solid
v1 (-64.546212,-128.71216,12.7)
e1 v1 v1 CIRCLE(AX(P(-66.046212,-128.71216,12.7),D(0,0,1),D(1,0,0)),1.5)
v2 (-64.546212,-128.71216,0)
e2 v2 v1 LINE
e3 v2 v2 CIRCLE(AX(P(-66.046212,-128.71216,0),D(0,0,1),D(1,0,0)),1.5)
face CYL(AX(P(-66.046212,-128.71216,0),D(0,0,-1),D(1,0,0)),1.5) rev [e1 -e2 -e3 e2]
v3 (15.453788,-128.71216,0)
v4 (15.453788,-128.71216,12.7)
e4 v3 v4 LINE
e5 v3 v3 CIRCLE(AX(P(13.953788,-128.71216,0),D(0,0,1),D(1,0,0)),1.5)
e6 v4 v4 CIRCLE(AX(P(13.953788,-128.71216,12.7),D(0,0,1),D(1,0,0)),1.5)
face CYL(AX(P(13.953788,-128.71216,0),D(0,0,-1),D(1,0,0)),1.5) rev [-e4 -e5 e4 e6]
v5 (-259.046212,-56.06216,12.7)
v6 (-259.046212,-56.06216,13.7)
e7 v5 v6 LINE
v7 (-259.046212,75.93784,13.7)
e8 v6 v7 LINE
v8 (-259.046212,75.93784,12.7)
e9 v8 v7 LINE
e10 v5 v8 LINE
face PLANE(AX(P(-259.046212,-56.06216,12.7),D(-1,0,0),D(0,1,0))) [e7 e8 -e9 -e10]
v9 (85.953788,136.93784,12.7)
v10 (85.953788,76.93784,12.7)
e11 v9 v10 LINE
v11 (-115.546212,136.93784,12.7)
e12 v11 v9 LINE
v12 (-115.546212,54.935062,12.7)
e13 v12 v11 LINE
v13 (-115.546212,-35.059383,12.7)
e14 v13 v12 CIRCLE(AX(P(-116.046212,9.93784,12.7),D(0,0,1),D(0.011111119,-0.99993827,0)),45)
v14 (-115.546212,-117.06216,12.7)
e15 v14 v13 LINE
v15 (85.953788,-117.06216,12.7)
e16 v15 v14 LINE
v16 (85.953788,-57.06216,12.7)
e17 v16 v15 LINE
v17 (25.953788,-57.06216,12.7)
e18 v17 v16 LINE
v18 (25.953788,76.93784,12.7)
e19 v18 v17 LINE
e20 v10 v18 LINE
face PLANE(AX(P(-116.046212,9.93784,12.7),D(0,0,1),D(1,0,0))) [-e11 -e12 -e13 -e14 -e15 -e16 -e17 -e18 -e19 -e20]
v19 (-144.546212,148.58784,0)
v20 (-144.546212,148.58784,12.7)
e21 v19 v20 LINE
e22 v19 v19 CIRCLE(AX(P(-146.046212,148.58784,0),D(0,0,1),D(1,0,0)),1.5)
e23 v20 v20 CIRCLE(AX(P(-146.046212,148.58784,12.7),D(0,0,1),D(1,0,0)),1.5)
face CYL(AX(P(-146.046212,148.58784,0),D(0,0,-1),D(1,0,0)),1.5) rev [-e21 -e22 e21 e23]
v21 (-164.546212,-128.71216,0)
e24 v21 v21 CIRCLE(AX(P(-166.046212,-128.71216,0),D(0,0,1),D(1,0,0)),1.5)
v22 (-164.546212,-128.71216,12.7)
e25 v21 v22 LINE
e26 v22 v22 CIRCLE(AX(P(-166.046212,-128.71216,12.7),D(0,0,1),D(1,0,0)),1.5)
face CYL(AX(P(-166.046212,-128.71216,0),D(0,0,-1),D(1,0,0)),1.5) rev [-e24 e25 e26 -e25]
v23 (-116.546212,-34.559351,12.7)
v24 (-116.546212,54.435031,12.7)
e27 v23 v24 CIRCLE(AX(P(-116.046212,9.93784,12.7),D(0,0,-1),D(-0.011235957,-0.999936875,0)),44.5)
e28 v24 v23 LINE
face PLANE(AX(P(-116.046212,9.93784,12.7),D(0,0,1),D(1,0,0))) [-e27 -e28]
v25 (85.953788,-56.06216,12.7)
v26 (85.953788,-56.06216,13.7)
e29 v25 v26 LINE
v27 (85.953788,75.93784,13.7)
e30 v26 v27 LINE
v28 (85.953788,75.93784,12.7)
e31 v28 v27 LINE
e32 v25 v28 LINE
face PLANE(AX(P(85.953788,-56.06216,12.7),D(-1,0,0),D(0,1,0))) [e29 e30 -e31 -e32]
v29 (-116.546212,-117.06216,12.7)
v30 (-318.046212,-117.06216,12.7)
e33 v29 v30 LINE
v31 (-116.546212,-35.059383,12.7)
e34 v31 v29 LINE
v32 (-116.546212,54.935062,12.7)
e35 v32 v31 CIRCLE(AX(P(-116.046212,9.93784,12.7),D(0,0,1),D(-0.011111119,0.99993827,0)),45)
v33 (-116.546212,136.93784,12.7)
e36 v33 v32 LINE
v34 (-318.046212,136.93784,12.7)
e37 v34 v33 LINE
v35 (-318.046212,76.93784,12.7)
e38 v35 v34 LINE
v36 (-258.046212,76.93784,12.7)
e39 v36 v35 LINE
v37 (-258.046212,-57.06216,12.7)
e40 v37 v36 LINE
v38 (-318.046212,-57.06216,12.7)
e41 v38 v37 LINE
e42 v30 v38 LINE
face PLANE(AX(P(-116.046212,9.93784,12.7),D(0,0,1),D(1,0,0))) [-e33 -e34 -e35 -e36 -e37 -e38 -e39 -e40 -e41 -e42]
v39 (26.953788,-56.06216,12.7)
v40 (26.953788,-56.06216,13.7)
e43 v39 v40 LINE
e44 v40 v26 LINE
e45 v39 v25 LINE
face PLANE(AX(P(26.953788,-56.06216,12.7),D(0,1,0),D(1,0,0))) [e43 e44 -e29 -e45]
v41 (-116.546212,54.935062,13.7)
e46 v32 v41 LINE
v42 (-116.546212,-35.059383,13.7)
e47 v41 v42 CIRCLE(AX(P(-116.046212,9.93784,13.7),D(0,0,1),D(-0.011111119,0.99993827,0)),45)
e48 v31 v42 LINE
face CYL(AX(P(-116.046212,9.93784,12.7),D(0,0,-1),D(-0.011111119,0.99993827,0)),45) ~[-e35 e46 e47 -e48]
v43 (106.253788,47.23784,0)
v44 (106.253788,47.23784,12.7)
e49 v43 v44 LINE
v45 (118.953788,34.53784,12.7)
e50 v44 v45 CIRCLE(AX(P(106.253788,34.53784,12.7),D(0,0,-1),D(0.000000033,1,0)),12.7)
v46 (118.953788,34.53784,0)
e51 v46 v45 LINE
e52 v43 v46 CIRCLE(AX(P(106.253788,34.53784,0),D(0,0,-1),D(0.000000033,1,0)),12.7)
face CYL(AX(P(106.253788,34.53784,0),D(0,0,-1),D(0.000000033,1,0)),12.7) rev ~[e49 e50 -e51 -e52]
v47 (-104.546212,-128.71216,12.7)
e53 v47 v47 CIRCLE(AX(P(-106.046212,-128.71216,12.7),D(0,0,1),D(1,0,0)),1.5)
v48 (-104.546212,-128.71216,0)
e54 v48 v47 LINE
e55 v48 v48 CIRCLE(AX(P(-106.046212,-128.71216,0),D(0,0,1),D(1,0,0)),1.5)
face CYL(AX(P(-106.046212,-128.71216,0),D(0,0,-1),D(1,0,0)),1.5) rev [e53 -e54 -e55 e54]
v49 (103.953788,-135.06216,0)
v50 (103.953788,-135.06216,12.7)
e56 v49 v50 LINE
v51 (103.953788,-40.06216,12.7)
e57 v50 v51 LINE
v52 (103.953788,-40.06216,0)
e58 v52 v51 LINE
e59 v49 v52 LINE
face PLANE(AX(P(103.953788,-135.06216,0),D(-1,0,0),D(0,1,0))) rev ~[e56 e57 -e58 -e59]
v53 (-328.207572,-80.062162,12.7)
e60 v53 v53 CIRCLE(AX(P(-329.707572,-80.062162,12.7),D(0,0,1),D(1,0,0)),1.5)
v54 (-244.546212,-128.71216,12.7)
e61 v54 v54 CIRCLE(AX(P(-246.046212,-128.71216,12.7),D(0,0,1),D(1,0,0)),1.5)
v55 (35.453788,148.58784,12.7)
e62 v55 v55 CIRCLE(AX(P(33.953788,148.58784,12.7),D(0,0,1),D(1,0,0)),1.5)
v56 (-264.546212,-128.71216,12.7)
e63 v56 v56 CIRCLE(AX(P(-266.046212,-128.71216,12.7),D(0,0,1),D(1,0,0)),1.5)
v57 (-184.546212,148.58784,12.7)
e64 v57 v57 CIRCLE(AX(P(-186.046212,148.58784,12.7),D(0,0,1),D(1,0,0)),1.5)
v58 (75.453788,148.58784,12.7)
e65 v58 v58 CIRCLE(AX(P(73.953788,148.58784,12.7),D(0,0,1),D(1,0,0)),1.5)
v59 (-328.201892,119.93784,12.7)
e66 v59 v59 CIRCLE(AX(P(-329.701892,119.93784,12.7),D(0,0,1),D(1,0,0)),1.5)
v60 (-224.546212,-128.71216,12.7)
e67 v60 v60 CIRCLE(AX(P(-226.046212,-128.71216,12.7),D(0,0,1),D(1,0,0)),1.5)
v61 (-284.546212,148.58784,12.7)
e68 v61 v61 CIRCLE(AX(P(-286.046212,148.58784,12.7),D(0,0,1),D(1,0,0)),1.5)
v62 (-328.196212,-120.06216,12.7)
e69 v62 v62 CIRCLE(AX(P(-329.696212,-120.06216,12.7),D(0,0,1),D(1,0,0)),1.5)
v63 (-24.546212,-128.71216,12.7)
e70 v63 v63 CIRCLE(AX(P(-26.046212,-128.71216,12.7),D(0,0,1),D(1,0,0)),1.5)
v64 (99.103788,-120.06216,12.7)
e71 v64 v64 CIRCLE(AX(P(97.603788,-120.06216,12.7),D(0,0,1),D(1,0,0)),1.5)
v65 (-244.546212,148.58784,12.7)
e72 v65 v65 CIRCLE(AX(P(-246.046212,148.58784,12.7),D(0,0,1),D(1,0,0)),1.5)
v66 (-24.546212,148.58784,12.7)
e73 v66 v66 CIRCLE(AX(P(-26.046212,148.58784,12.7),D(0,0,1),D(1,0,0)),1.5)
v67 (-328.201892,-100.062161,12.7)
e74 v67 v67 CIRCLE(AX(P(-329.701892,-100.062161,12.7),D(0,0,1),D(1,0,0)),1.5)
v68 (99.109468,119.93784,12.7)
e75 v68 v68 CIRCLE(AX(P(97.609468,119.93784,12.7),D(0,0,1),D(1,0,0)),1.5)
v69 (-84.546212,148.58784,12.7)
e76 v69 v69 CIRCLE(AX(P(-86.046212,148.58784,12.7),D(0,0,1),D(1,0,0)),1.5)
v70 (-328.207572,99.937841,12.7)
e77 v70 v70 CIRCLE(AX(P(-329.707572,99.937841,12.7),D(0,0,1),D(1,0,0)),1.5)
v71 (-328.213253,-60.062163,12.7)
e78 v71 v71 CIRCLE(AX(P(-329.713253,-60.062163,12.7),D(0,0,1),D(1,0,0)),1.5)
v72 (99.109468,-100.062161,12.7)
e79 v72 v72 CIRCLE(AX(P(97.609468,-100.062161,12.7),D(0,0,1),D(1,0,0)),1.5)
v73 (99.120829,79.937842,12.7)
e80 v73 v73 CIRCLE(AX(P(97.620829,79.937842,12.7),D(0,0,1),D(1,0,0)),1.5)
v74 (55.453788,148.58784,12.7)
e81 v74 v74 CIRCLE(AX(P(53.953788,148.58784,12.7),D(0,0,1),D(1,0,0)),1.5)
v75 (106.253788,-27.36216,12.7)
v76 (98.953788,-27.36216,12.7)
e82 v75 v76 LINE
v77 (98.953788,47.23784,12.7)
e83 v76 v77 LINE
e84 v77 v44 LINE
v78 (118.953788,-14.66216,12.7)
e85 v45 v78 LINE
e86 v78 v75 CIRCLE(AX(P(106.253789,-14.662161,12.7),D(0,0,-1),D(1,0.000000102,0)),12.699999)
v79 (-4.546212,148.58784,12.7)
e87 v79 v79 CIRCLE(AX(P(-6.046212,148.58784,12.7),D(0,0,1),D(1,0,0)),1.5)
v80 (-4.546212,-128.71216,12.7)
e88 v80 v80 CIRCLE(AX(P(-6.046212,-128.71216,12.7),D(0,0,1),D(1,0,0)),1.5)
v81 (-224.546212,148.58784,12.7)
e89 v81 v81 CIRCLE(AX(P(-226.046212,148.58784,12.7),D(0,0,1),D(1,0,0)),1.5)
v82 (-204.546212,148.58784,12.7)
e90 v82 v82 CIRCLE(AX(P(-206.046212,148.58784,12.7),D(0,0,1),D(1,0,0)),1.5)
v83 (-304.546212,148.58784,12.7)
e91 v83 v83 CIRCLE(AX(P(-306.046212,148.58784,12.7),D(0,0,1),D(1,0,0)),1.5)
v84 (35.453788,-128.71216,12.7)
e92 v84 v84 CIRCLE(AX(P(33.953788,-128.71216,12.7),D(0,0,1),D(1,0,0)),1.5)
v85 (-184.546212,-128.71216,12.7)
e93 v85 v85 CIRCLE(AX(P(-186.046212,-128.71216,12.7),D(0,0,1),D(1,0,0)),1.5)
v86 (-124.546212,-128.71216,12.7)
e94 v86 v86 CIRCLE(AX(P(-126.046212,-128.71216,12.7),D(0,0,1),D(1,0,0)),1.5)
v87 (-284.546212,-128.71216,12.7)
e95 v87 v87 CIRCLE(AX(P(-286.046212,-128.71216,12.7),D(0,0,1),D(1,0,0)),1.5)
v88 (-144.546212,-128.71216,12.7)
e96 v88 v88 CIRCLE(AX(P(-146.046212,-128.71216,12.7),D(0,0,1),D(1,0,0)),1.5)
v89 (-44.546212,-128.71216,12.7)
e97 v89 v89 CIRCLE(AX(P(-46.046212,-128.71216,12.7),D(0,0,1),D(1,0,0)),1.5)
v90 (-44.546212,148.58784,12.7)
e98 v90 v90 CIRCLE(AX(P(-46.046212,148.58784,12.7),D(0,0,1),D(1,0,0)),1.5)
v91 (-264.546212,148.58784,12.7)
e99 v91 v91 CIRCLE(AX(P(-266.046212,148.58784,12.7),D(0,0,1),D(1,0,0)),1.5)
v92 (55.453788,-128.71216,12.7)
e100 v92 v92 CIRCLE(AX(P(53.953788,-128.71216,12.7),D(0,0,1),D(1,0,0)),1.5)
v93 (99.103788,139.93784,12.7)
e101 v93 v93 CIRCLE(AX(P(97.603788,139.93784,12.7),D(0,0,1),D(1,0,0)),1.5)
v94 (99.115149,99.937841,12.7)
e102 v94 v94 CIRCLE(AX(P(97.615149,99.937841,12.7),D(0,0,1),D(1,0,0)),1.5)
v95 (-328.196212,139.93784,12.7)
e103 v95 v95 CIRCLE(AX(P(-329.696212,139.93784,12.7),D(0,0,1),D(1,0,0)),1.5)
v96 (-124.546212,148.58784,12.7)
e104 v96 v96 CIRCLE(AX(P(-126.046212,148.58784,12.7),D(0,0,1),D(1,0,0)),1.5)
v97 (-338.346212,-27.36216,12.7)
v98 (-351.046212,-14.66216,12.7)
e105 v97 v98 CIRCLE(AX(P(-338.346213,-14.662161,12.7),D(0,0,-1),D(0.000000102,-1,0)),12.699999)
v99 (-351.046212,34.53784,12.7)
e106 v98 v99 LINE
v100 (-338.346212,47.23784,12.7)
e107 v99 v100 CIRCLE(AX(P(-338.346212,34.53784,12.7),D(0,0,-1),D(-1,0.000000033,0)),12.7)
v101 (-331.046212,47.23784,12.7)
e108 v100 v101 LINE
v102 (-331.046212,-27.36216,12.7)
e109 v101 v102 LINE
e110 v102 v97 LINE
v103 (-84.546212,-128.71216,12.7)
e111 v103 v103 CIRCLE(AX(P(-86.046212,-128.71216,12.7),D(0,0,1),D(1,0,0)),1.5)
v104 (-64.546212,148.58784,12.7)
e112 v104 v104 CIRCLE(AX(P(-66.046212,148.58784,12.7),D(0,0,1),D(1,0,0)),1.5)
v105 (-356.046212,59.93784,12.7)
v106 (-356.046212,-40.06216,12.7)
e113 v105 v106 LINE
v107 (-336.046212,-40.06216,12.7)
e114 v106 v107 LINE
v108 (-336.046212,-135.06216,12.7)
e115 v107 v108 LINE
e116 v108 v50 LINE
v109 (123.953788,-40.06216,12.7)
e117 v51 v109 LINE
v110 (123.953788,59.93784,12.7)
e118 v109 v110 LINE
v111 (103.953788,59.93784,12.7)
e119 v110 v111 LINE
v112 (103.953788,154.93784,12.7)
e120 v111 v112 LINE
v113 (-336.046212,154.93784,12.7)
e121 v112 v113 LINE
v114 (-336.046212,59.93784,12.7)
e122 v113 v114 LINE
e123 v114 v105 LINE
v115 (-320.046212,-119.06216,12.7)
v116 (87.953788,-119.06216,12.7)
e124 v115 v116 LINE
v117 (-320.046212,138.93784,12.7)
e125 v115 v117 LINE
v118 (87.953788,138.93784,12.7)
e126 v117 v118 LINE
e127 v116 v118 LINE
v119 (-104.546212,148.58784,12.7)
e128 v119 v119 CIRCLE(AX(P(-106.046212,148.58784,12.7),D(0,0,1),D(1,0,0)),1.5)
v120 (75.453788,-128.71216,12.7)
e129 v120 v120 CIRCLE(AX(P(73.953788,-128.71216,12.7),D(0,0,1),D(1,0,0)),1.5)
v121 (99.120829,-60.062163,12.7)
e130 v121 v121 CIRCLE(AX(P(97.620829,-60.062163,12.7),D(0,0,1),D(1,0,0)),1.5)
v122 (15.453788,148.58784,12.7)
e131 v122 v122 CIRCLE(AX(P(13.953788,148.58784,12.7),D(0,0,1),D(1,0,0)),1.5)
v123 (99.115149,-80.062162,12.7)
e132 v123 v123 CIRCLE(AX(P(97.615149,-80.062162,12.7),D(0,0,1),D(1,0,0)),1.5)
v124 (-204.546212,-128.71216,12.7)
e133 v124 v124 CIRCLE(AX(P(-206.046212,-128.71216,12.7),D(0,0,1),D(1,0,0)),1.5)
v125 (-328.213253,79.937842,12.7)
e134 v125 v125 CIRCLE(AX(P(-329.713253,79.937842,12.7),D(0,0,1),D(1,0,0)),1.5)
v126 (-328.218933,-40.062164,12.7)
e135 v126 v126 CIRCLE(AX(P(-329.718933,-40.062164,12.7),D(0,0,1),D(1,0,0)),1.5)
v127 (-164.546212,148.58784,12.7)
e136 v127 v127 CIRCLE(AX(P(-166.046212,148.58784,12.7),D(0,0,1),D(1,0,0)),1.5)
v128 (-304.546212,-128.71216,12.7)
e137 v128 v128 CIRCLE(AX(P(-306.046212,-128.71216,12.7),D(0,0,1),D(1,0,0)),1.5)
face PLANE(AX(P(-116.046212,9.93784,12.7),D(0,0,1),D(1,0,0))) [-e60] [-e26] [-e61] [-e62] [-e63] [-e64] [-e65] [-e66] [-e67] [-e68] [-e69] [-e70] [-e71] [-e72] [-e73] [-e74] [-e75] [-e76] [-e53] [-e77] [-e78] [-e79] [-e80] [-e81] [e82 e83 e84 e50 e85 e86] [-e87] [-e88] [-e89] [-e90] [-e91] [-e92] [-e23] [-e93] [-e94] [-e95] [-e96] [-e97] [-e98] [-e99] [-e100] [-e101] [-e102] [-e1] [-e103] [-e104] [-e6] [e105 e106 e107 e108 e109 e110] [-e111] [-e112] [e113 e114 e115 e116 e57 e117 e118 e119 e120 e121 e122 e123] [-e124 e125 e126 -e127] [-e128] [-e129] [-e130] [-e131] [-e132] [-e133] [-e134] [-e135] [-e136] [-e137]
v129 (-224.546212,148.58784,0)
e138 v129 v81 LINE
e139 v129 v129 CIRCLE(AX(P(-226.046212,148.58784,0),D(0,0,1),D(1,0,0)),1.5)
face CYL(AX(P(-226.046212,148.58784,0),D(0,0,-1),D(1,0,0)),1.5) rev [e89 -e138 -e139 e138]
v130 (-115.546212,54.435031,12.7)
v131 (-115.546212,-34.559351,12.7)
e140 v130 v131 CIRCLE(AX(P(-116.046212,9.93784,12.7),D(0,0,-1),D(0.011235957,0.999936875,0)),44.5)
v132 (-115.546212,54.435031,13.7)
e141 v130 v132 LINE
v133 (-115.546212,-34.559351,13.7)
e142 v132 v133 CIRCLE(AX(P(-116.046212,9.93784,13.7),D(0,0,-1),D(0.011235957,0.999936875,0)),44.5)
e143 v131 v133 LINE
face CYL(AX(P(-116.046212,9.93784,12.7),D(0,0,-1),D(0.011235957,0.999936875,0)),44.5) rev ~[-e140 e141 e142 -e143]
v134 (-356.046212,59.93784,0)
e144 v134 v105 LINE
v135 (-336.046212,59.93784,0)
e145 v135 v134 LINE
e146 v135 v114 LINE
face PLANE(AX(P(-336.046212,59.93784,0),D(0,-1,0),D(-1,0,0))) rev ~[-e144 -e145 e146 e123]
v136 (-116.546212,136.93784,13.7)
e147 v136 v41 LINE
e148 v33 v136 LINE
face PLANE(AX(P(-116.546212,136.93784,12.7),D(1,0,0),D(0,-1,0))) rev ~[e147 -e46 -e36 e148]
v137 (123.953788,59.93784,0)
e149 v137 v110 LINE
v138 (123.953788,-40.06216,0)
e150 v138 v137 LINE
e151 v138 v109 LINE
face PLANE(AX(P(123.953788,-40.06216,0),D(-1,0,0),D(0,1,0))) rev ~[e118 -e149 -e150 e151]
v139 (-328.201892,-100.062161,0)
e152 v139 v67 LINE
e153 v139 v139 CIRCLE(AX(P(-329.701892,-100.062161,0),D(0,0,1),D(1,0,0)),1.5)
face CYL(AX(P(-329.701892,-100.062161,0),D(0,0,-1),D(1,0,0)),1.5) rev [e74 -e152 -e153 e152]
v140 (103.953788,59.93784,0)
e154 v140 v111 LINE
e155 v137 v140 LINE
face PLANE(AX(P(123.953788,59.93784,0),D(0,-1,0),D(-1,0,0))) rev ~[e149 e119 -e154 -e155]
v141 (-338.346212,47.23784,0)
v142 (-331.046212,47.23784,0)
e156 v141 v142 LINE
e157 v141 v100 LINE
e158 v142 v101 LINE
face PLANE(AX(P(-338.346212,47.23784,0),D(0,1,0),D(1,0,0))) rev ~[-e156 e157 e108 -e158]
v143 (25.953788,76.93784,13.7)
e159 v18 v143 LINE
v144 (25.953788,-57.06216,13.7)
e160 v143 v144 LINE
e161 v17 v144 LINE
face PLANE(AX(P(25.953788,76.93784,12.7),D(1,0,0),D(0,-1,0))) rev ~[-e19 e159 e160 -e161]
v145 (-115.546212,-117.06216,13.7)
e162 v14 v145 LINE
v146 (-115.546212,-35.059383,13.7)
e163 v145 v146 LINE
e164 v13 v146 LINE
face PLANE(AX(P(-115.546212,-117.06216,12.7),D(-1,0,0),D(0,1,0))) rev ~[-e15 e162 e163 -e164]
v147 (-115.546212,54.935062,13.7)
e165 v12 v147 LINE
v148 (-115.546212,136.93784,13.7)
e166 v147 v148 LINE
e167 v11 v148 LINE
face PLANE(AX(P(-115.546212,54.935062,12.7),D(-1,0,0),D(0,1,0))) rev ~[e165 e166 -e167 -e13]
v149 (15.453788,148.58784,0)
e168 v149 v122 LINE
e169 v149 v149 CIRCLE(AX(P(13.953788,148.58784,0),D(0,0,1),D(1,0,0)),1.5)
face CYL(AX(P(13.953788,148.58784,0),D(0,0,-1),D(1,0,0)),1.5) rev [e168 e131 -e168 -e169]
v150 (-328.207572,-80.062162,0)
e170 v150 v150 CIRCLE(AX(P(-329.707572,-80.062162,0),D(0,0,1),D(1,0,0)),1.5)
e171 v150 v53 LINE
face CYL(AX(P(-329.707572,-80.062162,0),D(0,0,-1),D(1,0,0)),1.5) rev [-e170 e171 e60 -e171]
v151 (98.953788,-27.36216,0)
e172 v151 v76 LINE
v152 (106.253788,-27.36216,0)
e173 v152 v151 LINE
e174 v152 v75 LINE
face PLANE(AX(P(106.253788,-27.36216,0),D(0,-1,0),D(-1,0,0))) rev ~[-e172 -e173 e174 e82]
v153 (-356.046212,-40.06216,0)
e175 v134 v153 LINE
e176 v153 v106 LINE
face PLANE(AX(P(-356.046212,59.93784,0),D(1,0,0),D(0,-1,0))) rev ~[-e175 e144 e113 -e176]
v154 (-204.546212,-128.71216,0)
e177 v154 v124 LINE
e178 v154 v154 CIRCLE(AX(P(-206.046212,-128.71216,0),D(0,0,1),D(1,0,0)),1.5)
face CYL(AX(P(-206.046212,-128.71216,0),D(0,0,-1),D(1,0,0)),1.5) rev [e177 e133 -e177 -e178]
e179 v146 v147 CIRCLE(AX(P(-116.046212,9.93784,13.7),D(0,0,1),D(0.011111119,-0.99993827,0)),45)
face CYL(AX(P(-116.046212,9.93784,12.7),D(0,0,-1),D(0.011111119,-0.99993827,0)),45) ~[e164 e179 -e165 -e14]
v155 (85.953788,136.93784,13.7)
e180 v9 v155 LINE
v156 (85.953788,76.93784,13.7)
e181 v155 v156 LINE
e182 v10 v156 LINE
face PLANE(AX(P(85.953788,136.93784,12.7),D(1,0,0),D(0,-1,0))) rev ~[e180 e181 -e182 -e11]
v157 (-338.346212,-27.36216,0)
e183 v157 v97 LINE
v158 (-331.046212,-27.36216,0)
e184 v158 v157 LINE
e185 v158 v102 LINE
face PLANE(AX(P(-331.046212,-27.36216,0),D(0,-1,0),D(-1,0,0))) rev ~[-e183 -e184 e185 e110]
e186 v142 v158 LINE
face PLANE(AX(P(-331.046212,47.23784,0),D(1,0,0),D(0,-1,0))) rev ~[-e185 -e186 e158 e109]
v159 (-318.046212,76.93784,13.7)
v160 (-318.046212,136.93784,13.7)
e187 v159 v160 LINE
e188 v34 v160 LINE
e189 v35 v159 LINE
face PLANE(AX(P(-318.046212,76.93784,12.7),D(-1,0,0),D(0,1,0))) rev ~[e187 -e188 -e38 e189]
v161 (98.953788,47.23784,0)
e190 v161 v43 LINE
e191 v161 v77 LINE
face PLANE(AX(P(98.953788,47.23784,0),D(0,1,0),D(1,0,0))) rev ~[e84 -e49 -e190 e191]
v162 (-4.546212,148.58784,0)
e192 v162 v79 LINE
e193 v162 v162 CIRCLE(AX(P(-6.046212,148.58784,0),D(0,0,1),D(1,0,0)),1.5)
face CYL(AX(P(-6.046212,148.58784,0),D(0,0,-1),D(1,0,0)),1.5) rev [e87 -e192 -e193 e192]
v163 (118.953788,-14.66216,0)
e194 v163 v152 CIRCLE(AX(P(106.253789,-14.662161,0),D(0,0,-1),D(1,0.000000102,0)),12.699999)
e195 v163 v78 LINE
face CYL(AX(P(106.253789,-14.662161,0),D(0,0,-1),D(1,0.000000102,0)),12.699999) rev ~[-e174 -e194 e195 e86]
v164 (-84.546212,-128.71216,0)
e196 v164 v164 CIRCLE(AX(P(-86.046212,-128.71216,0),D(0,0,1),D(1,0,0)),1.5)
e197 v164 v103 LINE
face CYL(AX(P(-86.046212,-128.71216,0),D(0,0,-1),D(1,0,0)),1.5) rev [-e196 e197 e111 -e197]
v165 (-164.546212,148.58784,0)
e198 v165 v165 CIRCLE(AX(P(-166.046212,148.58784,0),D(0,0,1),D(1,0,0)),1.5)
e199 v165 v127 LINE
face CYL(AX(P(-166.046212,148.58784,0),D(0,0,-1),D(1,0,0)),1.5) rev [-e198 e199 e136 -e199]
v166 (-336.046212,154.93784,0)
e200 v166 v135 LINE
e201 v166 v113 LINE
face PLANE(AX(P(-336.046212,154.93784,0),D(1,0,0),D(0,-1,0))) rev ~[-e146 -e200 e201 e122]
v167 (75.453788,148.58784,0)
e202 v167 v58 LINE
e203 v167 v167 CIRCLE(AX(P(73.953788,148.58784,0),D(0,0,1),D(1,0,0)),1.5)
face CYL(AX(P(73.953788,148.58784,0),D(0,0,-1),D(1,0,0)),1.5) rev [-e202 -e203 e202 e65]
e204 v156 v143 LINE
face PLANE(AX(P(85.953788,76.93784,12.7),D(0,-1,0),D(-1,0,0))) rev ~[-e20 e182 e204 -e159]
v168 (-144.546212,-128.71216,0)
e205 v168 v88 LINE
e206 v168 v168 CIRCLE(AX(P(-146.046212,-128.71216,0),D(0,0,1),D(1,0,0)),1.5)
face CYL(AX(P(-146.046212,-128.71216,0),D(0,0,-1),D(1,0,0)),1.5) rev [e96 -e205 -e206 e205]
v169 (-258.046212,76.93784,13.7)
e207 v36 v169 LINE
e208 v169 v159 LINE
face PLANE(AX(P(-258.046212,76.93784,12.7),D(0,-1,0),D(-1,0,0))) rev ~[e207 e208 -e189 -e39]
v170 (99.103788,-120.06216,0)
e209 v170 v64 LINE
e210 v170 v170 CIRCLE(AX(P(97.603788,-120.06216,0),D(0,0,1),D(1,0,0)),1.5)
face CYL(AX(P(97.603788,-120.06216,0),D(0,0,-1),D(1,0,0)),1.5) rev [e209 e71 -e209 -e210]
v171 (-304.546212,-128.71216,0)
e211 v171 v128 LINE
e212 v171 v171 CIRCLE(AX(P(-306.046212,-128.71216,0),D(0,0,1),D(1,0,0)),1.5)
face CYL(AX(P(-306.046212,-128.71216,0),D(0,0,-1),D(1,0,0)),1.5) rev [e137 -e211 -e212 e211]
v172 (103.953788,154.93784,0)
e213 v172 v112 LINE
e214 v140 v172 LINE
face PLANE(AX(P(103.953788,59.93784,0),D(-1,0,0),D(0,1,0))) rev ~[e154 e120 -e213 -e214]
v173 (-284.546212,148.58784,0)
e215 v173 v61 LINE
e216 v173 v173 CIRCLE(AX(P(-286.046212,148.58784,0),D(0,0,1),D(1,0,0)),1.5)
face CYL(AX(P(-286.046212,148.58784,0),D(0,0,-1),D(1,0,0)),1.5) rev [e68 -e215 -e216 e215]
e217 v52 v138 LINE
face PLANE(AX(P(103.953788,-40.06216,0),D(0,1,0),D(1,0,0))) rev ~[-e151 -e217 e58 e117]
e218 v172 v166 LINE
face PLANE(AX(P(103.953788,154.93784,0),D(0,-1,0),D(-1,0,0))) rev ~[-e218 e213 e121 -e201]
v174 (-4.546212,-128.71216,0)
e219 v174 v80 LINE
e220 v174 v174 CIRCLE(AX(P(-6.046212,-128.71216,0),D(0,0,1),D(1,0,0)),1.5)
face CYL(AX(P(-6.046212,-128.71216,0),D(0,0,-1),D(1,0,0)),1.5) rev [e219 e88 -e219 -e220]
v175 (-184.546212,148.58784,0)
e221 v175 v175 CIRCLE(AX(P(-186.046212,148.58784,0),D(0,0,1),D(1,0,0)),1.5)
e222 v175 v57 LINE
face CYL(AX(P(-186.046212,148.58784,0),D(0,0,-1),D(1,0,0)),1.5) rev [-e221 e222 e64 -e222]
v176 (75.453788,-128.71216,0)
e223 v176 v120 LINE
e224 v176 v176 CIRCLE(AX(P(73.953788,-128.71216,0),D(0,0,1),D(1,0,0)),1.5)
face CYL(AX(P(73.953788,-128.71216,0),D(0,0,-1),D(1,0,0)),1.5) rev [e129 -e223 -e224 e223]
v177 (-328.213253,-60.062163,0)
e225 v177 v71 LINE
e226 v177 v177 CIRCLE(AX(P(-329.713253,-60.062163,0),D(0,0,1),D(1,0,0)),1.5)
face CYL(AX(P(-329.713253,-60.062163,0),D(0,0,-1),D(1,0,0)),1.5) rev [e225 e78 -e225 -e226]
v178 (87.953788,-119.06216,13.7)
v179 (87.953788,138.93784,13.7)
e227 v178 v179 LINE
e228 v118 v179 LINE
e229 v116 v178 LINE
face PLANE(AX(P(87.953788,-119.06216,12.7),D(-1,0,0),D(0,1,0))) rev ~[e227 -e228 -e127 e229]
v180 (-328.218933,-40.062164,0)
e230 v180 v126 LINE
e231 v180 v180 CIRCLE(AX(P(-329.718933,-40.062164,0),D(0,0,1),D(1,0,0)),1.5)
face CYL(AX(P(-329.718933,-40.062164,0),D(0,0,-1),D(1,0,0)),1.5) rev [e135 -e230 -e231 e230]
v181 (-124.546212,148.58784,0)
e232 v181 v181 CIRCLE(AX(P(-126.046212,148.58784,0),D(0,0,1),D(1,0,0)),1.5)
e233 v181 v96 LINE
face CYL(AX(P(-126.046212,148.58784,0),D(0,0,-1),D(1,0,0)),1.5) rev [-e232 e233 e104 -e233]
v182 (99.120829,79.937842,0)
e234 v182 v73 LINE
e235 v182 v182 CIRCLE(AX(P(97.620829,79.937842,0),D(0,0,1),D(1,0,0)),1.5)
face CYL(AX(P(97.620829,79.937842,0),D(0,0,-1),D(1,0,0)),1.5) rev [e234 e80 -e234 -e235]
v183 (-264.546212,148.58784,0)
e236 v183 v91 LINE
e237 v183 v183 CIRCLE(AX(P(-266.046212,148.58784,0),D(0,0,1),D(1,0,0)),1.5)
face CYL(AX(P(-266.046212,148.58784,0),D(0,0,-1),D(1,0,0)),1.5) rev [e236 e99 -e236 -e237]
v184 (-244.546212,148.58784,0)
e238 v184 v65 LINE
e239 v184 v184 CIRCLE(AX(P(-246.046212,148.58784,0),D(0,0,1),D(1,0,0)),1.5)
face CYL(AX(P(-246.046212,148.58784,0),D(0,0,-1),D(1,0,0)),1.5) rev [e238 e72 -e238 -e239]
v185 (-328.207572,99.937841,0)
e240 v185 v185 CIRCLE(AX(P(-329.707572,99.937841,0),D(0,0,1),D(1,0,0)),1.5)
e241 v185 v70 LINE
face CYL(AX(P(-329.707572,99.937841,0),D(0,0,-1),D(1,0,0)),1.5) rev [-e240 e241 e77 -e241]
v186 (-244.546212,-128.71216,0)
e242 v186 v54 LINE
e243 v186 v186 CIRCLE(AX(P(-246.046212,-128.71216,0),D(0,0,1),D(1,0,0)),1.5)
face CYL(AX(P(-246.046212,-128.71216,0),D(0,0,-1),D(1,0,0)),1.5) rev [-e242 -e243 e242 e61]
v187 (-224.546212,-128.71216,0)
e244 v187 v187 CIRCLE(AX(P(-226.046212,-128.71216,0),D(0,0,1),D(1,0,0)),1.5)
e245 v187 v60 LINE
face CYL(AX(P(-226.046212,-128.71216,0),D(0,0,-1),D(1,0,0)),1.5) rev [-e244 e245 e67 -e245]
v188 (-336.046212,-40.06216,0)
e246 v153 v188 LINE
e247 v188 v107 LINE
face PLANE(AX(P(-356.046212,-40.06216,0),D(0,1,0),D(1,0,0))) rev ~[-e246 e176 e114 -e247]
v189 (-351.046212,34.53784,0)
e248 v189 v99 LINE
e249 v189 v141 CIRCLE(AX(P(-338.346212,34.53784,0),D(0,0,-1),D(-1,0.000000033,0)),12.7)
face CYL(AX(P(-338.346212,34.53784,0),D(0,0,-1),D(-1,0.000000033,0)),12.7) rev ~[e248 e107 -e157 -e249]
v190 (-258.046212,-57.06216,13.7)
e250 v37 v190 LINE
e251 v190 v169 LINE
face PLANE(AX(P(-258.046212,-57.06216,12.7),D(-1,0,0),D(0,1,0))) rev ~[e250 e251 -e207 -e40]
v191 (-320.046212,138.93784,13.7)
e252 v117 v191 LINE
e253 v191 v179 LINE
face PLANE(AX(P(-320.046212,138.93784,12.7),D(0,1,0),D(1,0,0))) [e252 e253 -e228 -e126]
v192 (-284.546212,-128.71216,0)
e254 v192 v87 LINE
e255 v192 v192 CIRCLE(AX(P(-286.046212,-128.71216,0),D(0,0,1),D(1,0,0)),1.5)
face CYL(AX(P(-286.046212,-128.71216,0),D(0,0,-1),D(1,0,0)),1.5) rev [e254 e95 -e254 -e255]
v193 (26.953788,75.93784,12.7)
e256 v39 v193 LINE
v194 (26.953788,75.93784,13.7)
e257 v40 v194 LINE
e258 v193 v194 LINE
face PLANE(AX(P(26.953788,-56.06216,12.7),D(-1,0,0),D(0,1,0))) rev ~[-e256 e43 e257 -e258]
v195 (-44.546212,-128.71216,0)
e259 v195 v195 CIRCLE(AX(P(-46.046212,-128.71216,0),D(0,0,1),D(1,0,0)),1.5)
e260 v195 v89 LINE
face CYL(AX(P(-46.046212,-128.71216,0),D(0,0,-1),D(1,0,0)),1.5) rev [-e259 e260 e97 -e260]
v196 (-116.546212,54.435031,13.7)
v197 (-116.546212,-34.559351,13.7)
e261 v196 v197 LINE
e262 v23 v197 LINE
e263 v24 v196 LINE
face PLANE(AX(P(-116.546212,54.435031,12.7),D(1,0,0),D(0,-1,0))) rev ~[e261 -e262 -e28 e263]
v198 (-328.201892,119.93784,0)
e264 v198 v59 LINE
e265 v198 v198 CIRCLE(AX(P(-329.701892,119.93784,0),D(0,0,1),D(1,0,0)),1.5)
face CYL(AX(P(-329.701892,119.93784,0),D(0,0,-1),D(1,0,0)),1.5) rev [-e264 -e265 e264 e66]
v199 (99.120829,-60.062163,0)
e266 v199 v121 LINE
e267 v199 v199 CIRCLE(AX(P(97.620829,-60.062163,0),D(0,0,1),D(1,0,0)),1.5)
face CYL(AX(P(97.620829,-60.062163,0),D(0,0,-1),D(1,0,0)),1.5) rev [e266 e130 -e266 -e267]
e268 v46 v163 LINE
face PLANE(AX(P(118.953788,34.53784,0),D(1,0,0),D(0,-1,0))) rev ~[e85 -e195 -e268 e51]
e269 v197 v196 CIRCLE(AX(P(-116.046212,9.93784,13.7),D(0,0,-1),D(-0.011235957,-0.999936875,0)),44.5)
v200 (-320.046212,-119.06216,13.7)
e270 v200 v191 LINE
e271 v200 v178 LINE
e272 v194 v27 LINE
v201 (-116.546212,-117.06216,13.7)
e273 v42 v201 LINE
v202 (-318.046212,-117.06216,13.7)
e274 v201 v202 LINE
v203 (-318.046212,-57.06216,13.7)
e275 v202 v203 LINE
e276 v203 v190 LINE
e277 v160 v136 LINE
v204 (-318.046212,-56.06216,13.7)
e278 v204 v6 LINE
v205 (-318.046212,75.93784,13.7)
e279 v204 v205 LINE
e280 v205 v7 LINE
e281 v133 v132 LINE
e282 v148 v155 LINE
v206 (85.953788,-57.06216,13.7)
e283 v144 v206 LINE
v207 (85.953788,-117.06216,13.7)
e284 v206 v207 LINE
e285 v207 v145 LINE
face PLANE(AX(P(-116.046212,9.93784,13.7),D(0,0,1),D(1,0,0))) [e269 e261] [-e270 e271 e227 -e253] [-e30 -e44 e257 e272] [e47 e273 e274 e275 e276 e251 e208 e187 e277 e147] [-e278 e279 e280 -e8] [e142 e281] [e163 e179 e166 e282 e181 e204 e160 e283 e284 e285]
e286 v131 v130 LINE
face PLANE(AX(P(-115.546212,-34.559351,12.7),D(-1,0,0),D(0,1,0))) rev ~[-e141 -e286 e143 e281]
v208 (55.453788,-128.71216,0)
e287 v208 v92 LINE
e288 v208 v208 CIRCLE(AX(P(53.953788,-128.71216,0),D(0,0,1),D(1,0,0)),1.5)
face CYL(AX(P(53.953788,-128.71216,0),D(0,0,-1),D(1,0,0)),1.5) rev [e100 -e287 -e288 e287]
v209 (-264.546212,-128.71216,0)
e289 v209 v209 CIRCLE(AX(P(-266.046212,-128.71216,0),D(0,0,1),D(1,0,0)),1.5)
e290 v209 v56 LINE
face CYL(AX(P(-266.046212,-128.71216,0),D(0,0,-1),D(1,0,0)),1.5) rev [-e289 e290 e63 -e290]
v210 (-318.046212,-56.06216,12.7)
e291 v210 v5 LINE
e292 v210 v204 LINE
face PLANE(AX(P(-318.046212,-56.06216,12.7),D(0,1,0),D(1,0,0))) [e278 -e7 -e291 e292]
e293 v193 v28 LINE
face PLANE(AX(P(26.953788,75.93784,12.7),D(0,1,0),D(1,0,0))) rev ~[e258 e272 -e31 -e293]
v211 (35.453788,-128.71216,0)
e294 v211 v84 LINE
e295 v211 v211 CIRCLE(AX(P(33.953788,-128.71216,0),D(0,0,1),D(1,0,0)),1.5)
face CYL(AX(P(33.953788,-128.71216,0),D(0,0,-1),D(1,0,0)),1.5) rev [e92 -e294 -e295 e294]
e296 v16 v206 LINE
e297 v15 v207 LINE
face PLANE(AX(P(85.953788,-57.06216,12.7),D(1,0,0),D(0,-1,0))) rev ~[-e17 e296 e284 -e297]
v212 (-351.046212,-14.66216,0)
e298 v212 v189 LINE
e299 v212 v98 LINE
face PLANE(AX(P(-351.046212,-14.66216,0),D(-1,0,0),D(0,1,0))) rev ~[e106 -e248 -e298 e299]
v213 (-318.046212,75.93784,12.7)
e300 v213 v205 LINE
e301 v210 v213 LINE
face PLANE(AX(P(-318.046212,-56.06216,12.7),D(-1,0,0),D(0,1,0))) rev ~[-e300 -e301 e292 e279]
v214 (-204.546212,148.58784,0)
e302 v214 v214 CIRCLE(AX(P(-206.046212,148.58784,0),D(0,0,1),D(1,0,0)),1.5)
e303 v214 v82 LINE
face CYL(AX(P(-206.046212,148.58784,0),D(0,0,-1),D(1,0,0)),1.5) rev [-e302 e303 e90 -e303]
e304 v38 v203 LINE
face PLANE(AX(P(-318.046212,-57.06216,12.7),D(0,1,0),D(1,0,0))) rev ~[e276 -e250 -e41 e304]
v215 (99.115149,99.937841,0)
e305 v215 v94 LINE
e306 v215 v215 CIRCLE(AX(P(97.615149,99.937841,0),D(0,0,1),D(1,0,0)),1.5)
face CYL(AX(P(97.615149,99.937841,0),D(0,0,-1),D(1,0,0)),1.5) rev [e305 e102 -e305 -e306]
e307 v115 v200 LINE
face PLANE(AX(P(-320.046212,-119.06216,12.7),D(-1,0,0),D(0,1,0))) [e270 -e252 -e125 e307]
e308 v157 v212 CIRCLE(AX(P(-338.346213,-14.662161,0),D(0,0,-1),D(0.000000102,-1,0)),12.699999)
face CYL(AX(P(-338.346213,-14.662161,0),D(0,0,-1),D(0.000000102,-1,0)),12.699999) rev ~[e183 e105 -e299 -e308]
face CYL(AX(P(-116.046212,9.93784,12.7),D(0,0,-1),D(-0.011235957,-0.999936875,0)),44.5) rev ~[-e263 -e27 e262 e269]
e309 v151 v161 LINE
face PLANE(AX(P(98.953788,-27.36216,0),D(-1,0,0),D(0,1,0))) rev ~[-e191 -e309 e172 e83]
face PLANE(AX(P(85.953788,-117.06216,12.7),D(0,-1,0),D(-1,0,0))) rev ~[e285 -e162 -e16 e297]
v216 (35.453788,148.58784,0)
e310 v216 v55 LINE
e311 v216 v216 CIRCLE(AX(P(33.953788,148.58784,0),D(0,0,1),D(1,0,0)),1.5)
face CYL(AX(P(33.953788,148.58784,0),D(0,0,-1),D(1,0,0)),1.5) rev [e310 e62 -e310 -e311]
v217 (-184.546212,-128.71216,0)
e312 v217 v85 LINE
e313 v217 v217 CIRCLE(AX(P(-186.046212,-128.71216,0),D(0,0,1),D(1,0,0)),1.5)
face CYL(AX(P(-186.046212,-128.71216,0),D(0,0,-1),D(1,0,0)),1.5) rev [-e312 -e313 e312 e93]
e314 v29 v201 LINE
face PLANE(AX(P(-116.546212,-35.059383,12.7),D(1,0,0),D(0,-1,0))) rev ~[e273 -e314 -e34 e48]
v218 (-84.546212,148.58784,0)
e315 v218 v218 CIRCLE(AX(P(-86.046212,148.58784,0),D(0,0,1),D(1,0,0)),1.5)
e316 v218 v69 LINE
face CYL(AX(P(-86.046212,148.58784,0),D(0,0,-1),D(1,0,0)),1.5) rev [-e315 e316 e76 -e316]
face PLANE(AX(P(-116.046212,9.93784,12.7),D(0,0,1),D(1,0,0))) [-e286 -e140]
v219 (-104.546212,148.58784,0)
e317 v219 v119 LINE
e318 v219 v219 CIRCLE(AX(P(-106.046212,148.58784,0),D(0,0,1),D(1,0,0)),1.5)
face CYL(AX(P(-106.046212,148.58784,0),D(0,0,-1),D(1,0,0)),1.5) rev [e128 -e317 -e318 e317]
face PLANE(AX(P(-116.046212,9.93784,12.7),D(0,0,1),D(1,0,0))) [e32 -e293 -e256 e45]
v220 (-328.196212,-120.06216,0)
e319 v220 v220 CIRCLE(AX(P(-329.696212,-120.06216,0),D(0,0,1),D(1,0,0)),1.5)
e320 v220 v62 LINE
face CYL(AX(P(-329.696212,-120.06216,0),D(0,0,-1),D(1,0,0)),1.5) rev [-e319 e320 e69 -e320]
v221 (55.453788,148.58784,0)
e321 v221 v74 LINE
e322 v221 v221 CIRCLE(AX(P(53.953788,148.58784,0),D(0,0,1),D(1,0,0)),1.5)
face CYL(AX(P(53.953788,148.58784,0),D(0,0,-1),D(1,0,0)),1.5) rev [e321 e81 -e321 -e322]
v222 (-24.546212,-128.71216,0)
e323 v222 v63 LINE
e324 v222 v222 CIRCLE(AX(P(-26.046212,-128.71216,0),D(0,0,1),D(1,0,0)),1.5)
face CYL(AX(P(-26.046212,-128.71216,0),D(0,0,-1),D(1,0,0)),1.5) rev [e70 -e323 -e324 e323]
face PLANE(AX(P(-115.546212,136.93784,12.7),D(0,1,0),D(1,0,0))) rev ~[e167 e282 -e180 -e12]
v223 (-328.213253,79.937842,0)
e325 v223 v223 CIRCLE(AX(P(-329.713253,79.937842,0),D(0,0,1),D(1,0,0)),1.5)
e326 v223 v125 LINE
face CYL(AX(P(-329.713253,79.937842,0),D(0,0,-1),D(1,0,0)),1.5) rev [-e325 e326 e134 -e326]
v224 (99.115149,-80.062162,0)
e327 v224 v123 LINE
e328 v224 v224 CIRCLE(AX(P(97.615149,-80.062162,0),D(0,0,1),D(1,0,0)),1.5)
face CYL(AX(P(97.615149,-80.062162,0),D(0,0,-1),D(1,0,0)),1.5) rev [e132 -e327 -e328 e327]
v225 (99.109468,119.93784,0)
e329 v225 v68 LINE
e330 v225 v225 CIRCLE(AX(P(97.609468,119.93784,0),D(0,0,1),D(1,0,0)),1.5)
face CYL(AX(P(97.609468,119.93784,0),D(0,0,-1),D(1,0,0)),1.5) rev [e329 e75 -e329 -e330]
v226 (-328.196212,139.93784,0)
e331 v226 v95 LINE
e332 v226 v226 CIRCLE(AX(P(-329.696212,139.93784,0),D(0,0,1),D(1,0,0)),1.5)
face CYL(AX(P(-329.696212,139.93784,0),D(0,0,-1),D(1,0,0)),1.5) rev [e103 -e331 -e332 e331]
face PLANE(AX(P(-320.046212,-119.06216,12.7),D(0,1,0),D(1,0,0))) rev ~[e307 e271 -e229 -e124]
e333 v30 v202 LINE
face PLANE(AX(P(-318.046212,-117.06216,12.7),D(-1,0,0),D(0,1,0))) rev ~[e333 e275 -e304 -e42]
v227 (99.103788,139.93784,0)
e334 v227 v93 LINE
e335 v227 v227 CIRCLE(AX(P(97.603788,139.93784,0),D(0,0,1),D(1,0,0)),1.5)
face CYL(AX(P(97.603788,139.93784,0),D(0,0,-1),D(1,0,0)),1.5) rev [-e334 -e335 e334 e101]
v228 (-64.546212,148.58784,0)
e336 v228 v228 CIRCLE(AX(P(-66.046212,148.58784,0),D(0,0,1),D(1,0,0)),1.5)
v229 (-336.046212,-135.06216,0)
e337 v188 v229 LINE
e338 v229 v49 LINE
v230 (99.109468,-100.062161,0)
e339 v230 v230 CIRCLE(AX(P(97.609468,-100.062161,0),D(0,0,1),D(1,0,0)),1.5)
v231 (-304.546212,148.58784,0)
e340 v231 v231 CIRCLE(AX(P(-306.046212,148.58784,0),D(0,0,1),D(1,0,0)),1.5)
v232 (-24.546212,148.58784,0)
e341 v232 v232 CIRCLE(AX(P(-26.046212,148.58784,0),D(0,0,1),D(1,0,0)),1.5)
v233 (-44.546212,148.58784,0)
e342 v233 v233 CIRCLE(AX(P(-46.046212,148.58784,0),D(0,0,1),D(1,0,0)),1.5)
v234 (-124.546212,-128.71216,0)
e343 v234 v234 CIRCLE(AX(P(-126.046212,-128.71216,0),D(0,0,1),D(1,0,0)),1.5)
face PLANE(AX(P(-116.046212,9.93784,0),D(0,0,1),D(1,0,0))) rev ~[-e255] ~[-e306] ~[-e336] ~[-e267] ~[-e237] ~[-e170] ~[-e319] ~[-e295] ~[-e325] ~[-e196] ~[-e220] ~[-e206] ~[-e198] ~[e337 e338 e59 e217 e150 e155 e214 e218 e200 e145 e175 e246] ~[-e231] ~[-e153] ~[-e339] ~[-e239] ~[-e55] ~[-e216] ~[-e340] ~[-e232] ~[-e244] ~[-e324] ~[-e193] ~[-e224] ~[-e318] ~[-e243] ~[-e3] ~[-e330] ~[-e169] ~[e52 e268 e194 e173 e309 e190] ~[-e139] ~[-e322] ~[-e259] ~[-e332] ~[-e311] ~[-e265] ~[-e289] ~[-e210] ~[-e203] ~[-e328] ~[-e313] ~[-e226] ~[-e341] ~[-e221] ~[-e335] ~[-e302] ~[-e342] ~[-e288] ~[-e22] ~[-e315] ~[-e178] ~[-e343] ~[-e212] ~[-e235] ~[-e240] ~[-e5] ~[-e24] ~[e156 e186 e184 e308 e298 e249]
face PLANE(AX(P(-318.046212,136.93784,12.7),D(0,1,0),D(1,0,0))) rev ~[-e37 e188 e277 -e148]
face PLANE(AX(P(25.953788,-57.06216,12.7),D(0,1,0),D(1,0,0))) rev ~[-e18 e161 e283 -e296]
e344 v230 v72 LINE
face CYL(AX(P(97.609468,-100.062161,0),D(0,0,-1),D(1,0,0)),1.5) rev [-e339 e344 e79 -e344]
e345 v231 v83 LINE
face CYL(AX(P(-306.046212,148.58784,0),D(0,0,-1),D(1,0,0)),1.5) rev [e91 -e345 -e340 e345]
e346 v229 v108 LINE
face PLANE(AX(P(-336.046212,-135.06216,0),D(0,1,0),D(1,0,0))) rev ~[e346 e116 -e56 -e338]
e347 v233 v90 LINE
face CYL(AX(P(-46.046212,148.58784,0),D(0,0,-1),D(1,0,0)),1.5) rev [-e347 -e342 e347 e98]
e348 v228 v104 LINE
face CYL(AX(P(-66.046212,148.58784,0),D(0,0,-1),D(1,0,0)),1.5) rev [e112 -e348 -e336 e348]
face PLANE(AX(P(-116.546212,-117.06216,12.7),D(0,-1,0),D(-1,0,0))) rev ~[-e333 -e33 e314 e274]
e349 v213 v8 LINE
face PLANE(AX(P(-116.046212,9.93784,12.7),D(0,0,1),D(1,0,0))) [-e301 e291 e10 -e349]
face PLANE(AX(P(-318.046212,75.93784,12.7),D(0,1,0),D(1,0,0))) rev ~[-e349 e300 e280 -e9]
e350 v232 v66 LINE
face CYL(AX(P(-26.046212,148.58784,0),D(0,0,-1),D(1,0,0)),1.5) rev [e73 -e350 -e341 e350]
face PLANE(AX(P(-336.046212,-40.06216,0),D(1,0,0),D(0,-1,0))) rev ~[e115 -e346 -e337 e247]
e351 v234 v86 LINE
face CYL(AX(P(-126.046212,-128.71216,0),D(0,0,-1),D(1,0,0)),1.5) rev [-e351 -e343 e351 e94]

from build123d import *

# Parameters (mm, degrees)
F0_R     = 1.5
F1_DEPTH = 12.7
F2_W     = 408
F2_H     = 258
F2_W_2   = 59
F2_H_2   = 132
F3_DEPTH = 1


with BuildPart() as f1:
    # F0 (on Top) → F1 (new body)
    with BuildSketch(Plane.XY):
        Polygon((103.953788, 154.93784), (-336.046212, 154.93784), (-336.046212, 59.93784), (-356.046212, 59.93784), (-356.046212, -40.06216), (-336.046212, -40.06216), (-336.046212, -135.06216), (103.953788, -135.06216), (103.953788, -40.06216), (123.953788, -40.06216), (123.953788, 59.93784), (103.953788, 59.93784), align=None)
        with Locations((-329.696212, -120.06216)):
            Circle(F0_R, mode=Mode.SUBTRACT)
        with Locations((-306.046212, -128.71216)):
            Circle(F0_R, mode=Mode.SUBTRACT)
        with Locations((-329.701892, -100.062161)):
            Circle(F0_R, mode=Mode.SUBTRACT)
        with Locations((-286.046212, -128.71216)):
            Circle(F0_R, mode=Mode.SUBTRACT)
        with Locations((-266.046212, -128.71216)):
            Circle(F0_R, mode=Mode.SUBTRACT)
        with Locations((-246.046212, -128.71216)):
            Circle(F0_R, mode=Mode.SUBTRACT)
        with Locations((-329.707572, -80.062162)):
            Circle(F0_R, mode=Mode.SUBTRACT)
        with Locations((-226.046212, -128.71216)):
            Circle(F0_R, mode=Mode.SUBTRACT)
        with Locations((-206.046212, -128.71216)):
            Circle(F0_R, mode=Mode.SUBTRACT)
        with Locations((-186.046212, -128.71216)):
            Circle(F0_R, mode=Mode.SUBTRACT)
        with Locations((-166.046212, -128.71216)):
            Circle(F0_R, mode=Mode.SUBTRACT)
        with Locations((-146.046212, -128.71216)):
            Circle(F0_R, mode=Mode.SUBTRACT)
        with Locations((-126.046212, -128.71216)):
            Circle(F0_R, mode=Mode.SUBTRACT)
        with Locations((-329.713253, -60.062163)):
            Circle(F0_R, mode=Mode.SUBTRACT)
        with Locations((-329.718933, -40.062164)):
            Circle(F0_R, mode=Mode.SUBTRACT)
        with Locations((-106.046212, -128.71216)):
            Circle(F0_R, mode=Mode.SUBTRACT)
        with Locations((-86.046212, -128.71216)):
            Circle(F0_R, mode=Mode.SUBTRACT)
        with Locations((-66.046212, -128.71216)):
            Circle(F0_R, mode=Mode.SUBTRACT)
        with Locations((-46.046212, -128.71216)):
            Circle(F0_R, mode=Mode.SUBTRACT)
        with Locations((-26.046212, -128.71216)):
            Circle(F0_R, mode=Mode.SUBTRACT)
        with Locations((-6.046212, -128.71216)):
            Circle(F0_R, mode=Mode.SUBTRACT)
        with Locations((13.953788, -128.71216)):
            Circle(F0_R, mode=Mode.SUBTRACT)
        with Locations((33.953788, -128.71216)):
            Circle(F0_R, mode=Mode.SUBTRACT)
        with Locations((53.953788, -128.71216)):
            Circle(F0_R, mode=Mode.SUBTRACT)
        with Locations((73.953788, -128.71216)):
            Circle(F0_R, mode=Mode.SUBTRACT)
        with Locations((97.603788, -120.06216)):
            Circle(F0_R, mode=Mode.SUBTRACT)
        with Locations((97.609468, -100.062161)):
            Circle(F0_R, mode=Mode.SUBTRACT)
        with Locations((97.615149, -80.062162)):
            Circle(F0_R, mode=Mode.SUBTRACT)
        with Locations((97.620829, -60.062163)):
            Circle(F0_R, mode=Mode.SUBTRACT)
        with BuildLine():
            Line((-331.046212, 47.23784), (-331.046212, -27.36216))
            Line((-331.046212, -27.36216), (-338.346212, -27.36216))
            ThreePointArc((-338.346212, -27.36216), (-347.326468, -23.642417), (-351.046212, -14.66216))
            Line((-351.046212, -14.66216), (-351.046212, 34.53784))
            ThreePointArc((-351.046212, 34.53784), (-347.326468, 43.518096), (-338.346212, 47.23784))
            Line((-338.346212, 47.23784), (-331.046212, 47.23784))
        make_face(mode=Mode.SUBTRACT)
        with Locations((-329.713253, 79.937842)):
            Circle(F0_R, mode=Mode.SUBTRACT)
        with Locations((-329.707572, 99.937841)):
            Circle(F0_R, mode=Mode.SUBTRACT)
        with Locations((-329.701892, 119.93784)):
            Circle(F0_R, mode=Mode.SUBTRACT)
        with Locations((-329.696212, 139.93784)):
            Circle(F0_R, mode=Mode.SUBTRACT)
        with Locations((-306.046212, 148.58784)):
            Circle(F0_R, mode=Mode.SUBTRACT)
        with Locations((-286.046212, 148.58784)):
            Circle(F0_R, mode=Mode.SUBTRACT)
        with Locations((-266.046212, 148.58784)):
            Circle(F0_R, mode=Mode.SUBTRACT)
        with Locations((-246.046212, 148.58784)):
            Circle(F0_R, mode=Mode.SUBTRACT)
        with Locations((-226.046212, 148.58784)):
            Circle(F0_R, mode=Mode.SUBTRACT)
        with Locations((-206.046212, 148.58784)):
            Circle(F0_R, mode=Mode.SUBTRACT)
        with Locations((-186.046212, 148.58784)):
            Circle(F0_R, mode=Mode.SUBTRACT)
        with Locations((-166.046212, 148.58784)):
            Circle(F0_R, mode=Mode.SUBTRACT)
        with Locations((-146.046212, 148.58784)):
            Circle(F0_R, mode=Mode.SUBTRACT)
        with Locations((-126.046212, 148.58784)):
            Circle(F0_R, mode=Mode.SUBTRACT)
        with BuildLine():
            Line((106.253788, -27.36216), (98.953788, -27.36216))
            Line((98.953788, -27.36216), (98.953788, 47.23784))
            Line((98.953788, 47.23784), (106.253788, 47.23784))
            ThreePointArc((106.253788, 47.23784), (115.234044, 43.518096), (118.953788, 34.53784))
            Line((118.953788, 34.53784), (118.953788, -14.66216))
            ThreePointArc((118.953788, -14.66216), (115.234044, -23.642417), (106.253788, -27.36216))
        make_face(mode=Mode.SUBTRACT)
        with Locations((97.620829, 79.937842)):
            Circle(F0_R, mode=Mode.SUBTRACT)
        with Locations((-106.046212, 148.58784)):
            Circle(F0_R, mode=Mode.SUBTRACT)
        with Locations((-86.046212, 148.58784)):
            Circle(F0_R, mode=Mode.SUBTRACT)
        with Locations((-66.046212, 148.58784)):
            Circle(F0_R, mode=Mode.SUBTRACT)
        with Locations((-46.046212, 148.58784)):
            Circle(F0_R, mode=Mode.SUBTRACT)
        with Locations((-26.046212, 148.58784)):
            Circle(F0_R, mode=Mode.SUBTRACT)
        with Locations((-6.046212, 148.58784)):
            Circle(F0_R, mode=Mode.SUBTRACT)
        with Locations((97.615149, 99.937841)):
            Circle(F0_R, mode=Mode.SUBTRACT)
        with Locations((13.953788, 148.58784)):
            Circle(F0_R, mode=Mode.SUBTRACT)
        with Locations((33.953788, 148.58784)):
            Circle(F0_R, mode=Mode.SUBTRACT)
        with Locations((53.953788, 148.58784)):
            Circle(F0_R, mode=Mode.SUBTRACT)
        with Locations((97.609468, 119.93784)):
            Circle(F0_R, mode=Mode.SUBTRACT)
        with Locations((73.953788, 148.58784)):
            Circle(F0_R, mode=Mode.SUBTRACT)
        with Locations((97.603788, 139.93784)):
            Circle(F0_R, mode=Mode.SUBTRACT)
    extrude(amount=F1_DEPTH)

    # F2 (on face) → F3 (join)
    with BuildSketch(Plane.XY.offset(12.7)):
        with Locations((-116.046212, 9.93784)):
            Rectangle(F2_W, F2_H)
        with Locations((-288.546212, 9.93784)):
            Rectangle(F2_W_2, F2_H_2, mode=Mode.SUBTRACT)
        with BuildLine():
            Line((-318.046212, 76.93784), (-318.046212, 136.93784))
            Line((-318.046212, 136.93784), (-116.546212, 136.93784))
            Line((-116.546212, 136.93784), (-116.546212, 54.935062))
            ThreePointArc((-116.546212, 54.935062), (-161.046212, 9.93784), (-116.546212, -35.059383))
            Line((-116.546212, -35.059383), (-116.546212, -117.06216))
            Line((-116.546212, -117.06216), (-318.046212, -117.06216))
            Line((-318.046212, -117.06216), (-318.046212, -57.06216))
            Line((-318.046212, -57.06216), (-258.046212, -57.06216))
            Line((-258.046212, -57.06216), (-258.046212, 76.93784))
            Line((-258.046212, 76.93784), (-318.046212, 76.93784))
        make_face(mode=Mode.SUBTRACT)
        with BuildLine():
            ThreePointArc((-116.546212, -34.559351), (-160.546212, 9.93784), (-116.546212, 54.435031))
            Line((-116.546212, 54.435031), (-116.546212, -34.559351))
        make_face(mode=Mode.SUBTRACT)
        with BuildLine():
            Line((-115.546212, -34.559351), (-115.546212, 54.435031))
            ThreePointArc((-115.546212, 54.435031), (-71.546212, 9.93784), (-115.546212, -34.559351))
        make_face(mode=Mode.SUBTRACT)
        with BuildLine():
            Line((-115.546212, 136.93784), (85.953788, 136.93784))
            Line((85.953788, 136.93784), (85.953788, 76.93784))
            Line((85.953788, 76.93784), (25.953788, 76.93784))
            Line((25.953788, 76.93784), (25.953788, -57.06216))
            Line((25.953788, -57.06216), (85.953788, -57.06216))
            Line((85.953788, -57.06216), (85.953788, -117.06216))
            Line((85.953788, -117.06216), (-115.546212, -117.06216))
            Line((-115.546212, -117.06216), (-115.546212, -35.059383))
            ThreePointArc((-115.546212, -35.059383), (-71.046212, 9.93784), (-115.546212, 54.935062))
            Line((-115.546212, 54.935062), (-115.546212, 136.93784))
        make_face(mode=Mode.SUBTRACT)
        with Locations((56.453788, 9.93784)):
            Rectangle(F2_W_2, F2_H_2, mode=Mode.SUBTRACT)
    extrude(amount=F3_DEPTH)


solid = f1.part
